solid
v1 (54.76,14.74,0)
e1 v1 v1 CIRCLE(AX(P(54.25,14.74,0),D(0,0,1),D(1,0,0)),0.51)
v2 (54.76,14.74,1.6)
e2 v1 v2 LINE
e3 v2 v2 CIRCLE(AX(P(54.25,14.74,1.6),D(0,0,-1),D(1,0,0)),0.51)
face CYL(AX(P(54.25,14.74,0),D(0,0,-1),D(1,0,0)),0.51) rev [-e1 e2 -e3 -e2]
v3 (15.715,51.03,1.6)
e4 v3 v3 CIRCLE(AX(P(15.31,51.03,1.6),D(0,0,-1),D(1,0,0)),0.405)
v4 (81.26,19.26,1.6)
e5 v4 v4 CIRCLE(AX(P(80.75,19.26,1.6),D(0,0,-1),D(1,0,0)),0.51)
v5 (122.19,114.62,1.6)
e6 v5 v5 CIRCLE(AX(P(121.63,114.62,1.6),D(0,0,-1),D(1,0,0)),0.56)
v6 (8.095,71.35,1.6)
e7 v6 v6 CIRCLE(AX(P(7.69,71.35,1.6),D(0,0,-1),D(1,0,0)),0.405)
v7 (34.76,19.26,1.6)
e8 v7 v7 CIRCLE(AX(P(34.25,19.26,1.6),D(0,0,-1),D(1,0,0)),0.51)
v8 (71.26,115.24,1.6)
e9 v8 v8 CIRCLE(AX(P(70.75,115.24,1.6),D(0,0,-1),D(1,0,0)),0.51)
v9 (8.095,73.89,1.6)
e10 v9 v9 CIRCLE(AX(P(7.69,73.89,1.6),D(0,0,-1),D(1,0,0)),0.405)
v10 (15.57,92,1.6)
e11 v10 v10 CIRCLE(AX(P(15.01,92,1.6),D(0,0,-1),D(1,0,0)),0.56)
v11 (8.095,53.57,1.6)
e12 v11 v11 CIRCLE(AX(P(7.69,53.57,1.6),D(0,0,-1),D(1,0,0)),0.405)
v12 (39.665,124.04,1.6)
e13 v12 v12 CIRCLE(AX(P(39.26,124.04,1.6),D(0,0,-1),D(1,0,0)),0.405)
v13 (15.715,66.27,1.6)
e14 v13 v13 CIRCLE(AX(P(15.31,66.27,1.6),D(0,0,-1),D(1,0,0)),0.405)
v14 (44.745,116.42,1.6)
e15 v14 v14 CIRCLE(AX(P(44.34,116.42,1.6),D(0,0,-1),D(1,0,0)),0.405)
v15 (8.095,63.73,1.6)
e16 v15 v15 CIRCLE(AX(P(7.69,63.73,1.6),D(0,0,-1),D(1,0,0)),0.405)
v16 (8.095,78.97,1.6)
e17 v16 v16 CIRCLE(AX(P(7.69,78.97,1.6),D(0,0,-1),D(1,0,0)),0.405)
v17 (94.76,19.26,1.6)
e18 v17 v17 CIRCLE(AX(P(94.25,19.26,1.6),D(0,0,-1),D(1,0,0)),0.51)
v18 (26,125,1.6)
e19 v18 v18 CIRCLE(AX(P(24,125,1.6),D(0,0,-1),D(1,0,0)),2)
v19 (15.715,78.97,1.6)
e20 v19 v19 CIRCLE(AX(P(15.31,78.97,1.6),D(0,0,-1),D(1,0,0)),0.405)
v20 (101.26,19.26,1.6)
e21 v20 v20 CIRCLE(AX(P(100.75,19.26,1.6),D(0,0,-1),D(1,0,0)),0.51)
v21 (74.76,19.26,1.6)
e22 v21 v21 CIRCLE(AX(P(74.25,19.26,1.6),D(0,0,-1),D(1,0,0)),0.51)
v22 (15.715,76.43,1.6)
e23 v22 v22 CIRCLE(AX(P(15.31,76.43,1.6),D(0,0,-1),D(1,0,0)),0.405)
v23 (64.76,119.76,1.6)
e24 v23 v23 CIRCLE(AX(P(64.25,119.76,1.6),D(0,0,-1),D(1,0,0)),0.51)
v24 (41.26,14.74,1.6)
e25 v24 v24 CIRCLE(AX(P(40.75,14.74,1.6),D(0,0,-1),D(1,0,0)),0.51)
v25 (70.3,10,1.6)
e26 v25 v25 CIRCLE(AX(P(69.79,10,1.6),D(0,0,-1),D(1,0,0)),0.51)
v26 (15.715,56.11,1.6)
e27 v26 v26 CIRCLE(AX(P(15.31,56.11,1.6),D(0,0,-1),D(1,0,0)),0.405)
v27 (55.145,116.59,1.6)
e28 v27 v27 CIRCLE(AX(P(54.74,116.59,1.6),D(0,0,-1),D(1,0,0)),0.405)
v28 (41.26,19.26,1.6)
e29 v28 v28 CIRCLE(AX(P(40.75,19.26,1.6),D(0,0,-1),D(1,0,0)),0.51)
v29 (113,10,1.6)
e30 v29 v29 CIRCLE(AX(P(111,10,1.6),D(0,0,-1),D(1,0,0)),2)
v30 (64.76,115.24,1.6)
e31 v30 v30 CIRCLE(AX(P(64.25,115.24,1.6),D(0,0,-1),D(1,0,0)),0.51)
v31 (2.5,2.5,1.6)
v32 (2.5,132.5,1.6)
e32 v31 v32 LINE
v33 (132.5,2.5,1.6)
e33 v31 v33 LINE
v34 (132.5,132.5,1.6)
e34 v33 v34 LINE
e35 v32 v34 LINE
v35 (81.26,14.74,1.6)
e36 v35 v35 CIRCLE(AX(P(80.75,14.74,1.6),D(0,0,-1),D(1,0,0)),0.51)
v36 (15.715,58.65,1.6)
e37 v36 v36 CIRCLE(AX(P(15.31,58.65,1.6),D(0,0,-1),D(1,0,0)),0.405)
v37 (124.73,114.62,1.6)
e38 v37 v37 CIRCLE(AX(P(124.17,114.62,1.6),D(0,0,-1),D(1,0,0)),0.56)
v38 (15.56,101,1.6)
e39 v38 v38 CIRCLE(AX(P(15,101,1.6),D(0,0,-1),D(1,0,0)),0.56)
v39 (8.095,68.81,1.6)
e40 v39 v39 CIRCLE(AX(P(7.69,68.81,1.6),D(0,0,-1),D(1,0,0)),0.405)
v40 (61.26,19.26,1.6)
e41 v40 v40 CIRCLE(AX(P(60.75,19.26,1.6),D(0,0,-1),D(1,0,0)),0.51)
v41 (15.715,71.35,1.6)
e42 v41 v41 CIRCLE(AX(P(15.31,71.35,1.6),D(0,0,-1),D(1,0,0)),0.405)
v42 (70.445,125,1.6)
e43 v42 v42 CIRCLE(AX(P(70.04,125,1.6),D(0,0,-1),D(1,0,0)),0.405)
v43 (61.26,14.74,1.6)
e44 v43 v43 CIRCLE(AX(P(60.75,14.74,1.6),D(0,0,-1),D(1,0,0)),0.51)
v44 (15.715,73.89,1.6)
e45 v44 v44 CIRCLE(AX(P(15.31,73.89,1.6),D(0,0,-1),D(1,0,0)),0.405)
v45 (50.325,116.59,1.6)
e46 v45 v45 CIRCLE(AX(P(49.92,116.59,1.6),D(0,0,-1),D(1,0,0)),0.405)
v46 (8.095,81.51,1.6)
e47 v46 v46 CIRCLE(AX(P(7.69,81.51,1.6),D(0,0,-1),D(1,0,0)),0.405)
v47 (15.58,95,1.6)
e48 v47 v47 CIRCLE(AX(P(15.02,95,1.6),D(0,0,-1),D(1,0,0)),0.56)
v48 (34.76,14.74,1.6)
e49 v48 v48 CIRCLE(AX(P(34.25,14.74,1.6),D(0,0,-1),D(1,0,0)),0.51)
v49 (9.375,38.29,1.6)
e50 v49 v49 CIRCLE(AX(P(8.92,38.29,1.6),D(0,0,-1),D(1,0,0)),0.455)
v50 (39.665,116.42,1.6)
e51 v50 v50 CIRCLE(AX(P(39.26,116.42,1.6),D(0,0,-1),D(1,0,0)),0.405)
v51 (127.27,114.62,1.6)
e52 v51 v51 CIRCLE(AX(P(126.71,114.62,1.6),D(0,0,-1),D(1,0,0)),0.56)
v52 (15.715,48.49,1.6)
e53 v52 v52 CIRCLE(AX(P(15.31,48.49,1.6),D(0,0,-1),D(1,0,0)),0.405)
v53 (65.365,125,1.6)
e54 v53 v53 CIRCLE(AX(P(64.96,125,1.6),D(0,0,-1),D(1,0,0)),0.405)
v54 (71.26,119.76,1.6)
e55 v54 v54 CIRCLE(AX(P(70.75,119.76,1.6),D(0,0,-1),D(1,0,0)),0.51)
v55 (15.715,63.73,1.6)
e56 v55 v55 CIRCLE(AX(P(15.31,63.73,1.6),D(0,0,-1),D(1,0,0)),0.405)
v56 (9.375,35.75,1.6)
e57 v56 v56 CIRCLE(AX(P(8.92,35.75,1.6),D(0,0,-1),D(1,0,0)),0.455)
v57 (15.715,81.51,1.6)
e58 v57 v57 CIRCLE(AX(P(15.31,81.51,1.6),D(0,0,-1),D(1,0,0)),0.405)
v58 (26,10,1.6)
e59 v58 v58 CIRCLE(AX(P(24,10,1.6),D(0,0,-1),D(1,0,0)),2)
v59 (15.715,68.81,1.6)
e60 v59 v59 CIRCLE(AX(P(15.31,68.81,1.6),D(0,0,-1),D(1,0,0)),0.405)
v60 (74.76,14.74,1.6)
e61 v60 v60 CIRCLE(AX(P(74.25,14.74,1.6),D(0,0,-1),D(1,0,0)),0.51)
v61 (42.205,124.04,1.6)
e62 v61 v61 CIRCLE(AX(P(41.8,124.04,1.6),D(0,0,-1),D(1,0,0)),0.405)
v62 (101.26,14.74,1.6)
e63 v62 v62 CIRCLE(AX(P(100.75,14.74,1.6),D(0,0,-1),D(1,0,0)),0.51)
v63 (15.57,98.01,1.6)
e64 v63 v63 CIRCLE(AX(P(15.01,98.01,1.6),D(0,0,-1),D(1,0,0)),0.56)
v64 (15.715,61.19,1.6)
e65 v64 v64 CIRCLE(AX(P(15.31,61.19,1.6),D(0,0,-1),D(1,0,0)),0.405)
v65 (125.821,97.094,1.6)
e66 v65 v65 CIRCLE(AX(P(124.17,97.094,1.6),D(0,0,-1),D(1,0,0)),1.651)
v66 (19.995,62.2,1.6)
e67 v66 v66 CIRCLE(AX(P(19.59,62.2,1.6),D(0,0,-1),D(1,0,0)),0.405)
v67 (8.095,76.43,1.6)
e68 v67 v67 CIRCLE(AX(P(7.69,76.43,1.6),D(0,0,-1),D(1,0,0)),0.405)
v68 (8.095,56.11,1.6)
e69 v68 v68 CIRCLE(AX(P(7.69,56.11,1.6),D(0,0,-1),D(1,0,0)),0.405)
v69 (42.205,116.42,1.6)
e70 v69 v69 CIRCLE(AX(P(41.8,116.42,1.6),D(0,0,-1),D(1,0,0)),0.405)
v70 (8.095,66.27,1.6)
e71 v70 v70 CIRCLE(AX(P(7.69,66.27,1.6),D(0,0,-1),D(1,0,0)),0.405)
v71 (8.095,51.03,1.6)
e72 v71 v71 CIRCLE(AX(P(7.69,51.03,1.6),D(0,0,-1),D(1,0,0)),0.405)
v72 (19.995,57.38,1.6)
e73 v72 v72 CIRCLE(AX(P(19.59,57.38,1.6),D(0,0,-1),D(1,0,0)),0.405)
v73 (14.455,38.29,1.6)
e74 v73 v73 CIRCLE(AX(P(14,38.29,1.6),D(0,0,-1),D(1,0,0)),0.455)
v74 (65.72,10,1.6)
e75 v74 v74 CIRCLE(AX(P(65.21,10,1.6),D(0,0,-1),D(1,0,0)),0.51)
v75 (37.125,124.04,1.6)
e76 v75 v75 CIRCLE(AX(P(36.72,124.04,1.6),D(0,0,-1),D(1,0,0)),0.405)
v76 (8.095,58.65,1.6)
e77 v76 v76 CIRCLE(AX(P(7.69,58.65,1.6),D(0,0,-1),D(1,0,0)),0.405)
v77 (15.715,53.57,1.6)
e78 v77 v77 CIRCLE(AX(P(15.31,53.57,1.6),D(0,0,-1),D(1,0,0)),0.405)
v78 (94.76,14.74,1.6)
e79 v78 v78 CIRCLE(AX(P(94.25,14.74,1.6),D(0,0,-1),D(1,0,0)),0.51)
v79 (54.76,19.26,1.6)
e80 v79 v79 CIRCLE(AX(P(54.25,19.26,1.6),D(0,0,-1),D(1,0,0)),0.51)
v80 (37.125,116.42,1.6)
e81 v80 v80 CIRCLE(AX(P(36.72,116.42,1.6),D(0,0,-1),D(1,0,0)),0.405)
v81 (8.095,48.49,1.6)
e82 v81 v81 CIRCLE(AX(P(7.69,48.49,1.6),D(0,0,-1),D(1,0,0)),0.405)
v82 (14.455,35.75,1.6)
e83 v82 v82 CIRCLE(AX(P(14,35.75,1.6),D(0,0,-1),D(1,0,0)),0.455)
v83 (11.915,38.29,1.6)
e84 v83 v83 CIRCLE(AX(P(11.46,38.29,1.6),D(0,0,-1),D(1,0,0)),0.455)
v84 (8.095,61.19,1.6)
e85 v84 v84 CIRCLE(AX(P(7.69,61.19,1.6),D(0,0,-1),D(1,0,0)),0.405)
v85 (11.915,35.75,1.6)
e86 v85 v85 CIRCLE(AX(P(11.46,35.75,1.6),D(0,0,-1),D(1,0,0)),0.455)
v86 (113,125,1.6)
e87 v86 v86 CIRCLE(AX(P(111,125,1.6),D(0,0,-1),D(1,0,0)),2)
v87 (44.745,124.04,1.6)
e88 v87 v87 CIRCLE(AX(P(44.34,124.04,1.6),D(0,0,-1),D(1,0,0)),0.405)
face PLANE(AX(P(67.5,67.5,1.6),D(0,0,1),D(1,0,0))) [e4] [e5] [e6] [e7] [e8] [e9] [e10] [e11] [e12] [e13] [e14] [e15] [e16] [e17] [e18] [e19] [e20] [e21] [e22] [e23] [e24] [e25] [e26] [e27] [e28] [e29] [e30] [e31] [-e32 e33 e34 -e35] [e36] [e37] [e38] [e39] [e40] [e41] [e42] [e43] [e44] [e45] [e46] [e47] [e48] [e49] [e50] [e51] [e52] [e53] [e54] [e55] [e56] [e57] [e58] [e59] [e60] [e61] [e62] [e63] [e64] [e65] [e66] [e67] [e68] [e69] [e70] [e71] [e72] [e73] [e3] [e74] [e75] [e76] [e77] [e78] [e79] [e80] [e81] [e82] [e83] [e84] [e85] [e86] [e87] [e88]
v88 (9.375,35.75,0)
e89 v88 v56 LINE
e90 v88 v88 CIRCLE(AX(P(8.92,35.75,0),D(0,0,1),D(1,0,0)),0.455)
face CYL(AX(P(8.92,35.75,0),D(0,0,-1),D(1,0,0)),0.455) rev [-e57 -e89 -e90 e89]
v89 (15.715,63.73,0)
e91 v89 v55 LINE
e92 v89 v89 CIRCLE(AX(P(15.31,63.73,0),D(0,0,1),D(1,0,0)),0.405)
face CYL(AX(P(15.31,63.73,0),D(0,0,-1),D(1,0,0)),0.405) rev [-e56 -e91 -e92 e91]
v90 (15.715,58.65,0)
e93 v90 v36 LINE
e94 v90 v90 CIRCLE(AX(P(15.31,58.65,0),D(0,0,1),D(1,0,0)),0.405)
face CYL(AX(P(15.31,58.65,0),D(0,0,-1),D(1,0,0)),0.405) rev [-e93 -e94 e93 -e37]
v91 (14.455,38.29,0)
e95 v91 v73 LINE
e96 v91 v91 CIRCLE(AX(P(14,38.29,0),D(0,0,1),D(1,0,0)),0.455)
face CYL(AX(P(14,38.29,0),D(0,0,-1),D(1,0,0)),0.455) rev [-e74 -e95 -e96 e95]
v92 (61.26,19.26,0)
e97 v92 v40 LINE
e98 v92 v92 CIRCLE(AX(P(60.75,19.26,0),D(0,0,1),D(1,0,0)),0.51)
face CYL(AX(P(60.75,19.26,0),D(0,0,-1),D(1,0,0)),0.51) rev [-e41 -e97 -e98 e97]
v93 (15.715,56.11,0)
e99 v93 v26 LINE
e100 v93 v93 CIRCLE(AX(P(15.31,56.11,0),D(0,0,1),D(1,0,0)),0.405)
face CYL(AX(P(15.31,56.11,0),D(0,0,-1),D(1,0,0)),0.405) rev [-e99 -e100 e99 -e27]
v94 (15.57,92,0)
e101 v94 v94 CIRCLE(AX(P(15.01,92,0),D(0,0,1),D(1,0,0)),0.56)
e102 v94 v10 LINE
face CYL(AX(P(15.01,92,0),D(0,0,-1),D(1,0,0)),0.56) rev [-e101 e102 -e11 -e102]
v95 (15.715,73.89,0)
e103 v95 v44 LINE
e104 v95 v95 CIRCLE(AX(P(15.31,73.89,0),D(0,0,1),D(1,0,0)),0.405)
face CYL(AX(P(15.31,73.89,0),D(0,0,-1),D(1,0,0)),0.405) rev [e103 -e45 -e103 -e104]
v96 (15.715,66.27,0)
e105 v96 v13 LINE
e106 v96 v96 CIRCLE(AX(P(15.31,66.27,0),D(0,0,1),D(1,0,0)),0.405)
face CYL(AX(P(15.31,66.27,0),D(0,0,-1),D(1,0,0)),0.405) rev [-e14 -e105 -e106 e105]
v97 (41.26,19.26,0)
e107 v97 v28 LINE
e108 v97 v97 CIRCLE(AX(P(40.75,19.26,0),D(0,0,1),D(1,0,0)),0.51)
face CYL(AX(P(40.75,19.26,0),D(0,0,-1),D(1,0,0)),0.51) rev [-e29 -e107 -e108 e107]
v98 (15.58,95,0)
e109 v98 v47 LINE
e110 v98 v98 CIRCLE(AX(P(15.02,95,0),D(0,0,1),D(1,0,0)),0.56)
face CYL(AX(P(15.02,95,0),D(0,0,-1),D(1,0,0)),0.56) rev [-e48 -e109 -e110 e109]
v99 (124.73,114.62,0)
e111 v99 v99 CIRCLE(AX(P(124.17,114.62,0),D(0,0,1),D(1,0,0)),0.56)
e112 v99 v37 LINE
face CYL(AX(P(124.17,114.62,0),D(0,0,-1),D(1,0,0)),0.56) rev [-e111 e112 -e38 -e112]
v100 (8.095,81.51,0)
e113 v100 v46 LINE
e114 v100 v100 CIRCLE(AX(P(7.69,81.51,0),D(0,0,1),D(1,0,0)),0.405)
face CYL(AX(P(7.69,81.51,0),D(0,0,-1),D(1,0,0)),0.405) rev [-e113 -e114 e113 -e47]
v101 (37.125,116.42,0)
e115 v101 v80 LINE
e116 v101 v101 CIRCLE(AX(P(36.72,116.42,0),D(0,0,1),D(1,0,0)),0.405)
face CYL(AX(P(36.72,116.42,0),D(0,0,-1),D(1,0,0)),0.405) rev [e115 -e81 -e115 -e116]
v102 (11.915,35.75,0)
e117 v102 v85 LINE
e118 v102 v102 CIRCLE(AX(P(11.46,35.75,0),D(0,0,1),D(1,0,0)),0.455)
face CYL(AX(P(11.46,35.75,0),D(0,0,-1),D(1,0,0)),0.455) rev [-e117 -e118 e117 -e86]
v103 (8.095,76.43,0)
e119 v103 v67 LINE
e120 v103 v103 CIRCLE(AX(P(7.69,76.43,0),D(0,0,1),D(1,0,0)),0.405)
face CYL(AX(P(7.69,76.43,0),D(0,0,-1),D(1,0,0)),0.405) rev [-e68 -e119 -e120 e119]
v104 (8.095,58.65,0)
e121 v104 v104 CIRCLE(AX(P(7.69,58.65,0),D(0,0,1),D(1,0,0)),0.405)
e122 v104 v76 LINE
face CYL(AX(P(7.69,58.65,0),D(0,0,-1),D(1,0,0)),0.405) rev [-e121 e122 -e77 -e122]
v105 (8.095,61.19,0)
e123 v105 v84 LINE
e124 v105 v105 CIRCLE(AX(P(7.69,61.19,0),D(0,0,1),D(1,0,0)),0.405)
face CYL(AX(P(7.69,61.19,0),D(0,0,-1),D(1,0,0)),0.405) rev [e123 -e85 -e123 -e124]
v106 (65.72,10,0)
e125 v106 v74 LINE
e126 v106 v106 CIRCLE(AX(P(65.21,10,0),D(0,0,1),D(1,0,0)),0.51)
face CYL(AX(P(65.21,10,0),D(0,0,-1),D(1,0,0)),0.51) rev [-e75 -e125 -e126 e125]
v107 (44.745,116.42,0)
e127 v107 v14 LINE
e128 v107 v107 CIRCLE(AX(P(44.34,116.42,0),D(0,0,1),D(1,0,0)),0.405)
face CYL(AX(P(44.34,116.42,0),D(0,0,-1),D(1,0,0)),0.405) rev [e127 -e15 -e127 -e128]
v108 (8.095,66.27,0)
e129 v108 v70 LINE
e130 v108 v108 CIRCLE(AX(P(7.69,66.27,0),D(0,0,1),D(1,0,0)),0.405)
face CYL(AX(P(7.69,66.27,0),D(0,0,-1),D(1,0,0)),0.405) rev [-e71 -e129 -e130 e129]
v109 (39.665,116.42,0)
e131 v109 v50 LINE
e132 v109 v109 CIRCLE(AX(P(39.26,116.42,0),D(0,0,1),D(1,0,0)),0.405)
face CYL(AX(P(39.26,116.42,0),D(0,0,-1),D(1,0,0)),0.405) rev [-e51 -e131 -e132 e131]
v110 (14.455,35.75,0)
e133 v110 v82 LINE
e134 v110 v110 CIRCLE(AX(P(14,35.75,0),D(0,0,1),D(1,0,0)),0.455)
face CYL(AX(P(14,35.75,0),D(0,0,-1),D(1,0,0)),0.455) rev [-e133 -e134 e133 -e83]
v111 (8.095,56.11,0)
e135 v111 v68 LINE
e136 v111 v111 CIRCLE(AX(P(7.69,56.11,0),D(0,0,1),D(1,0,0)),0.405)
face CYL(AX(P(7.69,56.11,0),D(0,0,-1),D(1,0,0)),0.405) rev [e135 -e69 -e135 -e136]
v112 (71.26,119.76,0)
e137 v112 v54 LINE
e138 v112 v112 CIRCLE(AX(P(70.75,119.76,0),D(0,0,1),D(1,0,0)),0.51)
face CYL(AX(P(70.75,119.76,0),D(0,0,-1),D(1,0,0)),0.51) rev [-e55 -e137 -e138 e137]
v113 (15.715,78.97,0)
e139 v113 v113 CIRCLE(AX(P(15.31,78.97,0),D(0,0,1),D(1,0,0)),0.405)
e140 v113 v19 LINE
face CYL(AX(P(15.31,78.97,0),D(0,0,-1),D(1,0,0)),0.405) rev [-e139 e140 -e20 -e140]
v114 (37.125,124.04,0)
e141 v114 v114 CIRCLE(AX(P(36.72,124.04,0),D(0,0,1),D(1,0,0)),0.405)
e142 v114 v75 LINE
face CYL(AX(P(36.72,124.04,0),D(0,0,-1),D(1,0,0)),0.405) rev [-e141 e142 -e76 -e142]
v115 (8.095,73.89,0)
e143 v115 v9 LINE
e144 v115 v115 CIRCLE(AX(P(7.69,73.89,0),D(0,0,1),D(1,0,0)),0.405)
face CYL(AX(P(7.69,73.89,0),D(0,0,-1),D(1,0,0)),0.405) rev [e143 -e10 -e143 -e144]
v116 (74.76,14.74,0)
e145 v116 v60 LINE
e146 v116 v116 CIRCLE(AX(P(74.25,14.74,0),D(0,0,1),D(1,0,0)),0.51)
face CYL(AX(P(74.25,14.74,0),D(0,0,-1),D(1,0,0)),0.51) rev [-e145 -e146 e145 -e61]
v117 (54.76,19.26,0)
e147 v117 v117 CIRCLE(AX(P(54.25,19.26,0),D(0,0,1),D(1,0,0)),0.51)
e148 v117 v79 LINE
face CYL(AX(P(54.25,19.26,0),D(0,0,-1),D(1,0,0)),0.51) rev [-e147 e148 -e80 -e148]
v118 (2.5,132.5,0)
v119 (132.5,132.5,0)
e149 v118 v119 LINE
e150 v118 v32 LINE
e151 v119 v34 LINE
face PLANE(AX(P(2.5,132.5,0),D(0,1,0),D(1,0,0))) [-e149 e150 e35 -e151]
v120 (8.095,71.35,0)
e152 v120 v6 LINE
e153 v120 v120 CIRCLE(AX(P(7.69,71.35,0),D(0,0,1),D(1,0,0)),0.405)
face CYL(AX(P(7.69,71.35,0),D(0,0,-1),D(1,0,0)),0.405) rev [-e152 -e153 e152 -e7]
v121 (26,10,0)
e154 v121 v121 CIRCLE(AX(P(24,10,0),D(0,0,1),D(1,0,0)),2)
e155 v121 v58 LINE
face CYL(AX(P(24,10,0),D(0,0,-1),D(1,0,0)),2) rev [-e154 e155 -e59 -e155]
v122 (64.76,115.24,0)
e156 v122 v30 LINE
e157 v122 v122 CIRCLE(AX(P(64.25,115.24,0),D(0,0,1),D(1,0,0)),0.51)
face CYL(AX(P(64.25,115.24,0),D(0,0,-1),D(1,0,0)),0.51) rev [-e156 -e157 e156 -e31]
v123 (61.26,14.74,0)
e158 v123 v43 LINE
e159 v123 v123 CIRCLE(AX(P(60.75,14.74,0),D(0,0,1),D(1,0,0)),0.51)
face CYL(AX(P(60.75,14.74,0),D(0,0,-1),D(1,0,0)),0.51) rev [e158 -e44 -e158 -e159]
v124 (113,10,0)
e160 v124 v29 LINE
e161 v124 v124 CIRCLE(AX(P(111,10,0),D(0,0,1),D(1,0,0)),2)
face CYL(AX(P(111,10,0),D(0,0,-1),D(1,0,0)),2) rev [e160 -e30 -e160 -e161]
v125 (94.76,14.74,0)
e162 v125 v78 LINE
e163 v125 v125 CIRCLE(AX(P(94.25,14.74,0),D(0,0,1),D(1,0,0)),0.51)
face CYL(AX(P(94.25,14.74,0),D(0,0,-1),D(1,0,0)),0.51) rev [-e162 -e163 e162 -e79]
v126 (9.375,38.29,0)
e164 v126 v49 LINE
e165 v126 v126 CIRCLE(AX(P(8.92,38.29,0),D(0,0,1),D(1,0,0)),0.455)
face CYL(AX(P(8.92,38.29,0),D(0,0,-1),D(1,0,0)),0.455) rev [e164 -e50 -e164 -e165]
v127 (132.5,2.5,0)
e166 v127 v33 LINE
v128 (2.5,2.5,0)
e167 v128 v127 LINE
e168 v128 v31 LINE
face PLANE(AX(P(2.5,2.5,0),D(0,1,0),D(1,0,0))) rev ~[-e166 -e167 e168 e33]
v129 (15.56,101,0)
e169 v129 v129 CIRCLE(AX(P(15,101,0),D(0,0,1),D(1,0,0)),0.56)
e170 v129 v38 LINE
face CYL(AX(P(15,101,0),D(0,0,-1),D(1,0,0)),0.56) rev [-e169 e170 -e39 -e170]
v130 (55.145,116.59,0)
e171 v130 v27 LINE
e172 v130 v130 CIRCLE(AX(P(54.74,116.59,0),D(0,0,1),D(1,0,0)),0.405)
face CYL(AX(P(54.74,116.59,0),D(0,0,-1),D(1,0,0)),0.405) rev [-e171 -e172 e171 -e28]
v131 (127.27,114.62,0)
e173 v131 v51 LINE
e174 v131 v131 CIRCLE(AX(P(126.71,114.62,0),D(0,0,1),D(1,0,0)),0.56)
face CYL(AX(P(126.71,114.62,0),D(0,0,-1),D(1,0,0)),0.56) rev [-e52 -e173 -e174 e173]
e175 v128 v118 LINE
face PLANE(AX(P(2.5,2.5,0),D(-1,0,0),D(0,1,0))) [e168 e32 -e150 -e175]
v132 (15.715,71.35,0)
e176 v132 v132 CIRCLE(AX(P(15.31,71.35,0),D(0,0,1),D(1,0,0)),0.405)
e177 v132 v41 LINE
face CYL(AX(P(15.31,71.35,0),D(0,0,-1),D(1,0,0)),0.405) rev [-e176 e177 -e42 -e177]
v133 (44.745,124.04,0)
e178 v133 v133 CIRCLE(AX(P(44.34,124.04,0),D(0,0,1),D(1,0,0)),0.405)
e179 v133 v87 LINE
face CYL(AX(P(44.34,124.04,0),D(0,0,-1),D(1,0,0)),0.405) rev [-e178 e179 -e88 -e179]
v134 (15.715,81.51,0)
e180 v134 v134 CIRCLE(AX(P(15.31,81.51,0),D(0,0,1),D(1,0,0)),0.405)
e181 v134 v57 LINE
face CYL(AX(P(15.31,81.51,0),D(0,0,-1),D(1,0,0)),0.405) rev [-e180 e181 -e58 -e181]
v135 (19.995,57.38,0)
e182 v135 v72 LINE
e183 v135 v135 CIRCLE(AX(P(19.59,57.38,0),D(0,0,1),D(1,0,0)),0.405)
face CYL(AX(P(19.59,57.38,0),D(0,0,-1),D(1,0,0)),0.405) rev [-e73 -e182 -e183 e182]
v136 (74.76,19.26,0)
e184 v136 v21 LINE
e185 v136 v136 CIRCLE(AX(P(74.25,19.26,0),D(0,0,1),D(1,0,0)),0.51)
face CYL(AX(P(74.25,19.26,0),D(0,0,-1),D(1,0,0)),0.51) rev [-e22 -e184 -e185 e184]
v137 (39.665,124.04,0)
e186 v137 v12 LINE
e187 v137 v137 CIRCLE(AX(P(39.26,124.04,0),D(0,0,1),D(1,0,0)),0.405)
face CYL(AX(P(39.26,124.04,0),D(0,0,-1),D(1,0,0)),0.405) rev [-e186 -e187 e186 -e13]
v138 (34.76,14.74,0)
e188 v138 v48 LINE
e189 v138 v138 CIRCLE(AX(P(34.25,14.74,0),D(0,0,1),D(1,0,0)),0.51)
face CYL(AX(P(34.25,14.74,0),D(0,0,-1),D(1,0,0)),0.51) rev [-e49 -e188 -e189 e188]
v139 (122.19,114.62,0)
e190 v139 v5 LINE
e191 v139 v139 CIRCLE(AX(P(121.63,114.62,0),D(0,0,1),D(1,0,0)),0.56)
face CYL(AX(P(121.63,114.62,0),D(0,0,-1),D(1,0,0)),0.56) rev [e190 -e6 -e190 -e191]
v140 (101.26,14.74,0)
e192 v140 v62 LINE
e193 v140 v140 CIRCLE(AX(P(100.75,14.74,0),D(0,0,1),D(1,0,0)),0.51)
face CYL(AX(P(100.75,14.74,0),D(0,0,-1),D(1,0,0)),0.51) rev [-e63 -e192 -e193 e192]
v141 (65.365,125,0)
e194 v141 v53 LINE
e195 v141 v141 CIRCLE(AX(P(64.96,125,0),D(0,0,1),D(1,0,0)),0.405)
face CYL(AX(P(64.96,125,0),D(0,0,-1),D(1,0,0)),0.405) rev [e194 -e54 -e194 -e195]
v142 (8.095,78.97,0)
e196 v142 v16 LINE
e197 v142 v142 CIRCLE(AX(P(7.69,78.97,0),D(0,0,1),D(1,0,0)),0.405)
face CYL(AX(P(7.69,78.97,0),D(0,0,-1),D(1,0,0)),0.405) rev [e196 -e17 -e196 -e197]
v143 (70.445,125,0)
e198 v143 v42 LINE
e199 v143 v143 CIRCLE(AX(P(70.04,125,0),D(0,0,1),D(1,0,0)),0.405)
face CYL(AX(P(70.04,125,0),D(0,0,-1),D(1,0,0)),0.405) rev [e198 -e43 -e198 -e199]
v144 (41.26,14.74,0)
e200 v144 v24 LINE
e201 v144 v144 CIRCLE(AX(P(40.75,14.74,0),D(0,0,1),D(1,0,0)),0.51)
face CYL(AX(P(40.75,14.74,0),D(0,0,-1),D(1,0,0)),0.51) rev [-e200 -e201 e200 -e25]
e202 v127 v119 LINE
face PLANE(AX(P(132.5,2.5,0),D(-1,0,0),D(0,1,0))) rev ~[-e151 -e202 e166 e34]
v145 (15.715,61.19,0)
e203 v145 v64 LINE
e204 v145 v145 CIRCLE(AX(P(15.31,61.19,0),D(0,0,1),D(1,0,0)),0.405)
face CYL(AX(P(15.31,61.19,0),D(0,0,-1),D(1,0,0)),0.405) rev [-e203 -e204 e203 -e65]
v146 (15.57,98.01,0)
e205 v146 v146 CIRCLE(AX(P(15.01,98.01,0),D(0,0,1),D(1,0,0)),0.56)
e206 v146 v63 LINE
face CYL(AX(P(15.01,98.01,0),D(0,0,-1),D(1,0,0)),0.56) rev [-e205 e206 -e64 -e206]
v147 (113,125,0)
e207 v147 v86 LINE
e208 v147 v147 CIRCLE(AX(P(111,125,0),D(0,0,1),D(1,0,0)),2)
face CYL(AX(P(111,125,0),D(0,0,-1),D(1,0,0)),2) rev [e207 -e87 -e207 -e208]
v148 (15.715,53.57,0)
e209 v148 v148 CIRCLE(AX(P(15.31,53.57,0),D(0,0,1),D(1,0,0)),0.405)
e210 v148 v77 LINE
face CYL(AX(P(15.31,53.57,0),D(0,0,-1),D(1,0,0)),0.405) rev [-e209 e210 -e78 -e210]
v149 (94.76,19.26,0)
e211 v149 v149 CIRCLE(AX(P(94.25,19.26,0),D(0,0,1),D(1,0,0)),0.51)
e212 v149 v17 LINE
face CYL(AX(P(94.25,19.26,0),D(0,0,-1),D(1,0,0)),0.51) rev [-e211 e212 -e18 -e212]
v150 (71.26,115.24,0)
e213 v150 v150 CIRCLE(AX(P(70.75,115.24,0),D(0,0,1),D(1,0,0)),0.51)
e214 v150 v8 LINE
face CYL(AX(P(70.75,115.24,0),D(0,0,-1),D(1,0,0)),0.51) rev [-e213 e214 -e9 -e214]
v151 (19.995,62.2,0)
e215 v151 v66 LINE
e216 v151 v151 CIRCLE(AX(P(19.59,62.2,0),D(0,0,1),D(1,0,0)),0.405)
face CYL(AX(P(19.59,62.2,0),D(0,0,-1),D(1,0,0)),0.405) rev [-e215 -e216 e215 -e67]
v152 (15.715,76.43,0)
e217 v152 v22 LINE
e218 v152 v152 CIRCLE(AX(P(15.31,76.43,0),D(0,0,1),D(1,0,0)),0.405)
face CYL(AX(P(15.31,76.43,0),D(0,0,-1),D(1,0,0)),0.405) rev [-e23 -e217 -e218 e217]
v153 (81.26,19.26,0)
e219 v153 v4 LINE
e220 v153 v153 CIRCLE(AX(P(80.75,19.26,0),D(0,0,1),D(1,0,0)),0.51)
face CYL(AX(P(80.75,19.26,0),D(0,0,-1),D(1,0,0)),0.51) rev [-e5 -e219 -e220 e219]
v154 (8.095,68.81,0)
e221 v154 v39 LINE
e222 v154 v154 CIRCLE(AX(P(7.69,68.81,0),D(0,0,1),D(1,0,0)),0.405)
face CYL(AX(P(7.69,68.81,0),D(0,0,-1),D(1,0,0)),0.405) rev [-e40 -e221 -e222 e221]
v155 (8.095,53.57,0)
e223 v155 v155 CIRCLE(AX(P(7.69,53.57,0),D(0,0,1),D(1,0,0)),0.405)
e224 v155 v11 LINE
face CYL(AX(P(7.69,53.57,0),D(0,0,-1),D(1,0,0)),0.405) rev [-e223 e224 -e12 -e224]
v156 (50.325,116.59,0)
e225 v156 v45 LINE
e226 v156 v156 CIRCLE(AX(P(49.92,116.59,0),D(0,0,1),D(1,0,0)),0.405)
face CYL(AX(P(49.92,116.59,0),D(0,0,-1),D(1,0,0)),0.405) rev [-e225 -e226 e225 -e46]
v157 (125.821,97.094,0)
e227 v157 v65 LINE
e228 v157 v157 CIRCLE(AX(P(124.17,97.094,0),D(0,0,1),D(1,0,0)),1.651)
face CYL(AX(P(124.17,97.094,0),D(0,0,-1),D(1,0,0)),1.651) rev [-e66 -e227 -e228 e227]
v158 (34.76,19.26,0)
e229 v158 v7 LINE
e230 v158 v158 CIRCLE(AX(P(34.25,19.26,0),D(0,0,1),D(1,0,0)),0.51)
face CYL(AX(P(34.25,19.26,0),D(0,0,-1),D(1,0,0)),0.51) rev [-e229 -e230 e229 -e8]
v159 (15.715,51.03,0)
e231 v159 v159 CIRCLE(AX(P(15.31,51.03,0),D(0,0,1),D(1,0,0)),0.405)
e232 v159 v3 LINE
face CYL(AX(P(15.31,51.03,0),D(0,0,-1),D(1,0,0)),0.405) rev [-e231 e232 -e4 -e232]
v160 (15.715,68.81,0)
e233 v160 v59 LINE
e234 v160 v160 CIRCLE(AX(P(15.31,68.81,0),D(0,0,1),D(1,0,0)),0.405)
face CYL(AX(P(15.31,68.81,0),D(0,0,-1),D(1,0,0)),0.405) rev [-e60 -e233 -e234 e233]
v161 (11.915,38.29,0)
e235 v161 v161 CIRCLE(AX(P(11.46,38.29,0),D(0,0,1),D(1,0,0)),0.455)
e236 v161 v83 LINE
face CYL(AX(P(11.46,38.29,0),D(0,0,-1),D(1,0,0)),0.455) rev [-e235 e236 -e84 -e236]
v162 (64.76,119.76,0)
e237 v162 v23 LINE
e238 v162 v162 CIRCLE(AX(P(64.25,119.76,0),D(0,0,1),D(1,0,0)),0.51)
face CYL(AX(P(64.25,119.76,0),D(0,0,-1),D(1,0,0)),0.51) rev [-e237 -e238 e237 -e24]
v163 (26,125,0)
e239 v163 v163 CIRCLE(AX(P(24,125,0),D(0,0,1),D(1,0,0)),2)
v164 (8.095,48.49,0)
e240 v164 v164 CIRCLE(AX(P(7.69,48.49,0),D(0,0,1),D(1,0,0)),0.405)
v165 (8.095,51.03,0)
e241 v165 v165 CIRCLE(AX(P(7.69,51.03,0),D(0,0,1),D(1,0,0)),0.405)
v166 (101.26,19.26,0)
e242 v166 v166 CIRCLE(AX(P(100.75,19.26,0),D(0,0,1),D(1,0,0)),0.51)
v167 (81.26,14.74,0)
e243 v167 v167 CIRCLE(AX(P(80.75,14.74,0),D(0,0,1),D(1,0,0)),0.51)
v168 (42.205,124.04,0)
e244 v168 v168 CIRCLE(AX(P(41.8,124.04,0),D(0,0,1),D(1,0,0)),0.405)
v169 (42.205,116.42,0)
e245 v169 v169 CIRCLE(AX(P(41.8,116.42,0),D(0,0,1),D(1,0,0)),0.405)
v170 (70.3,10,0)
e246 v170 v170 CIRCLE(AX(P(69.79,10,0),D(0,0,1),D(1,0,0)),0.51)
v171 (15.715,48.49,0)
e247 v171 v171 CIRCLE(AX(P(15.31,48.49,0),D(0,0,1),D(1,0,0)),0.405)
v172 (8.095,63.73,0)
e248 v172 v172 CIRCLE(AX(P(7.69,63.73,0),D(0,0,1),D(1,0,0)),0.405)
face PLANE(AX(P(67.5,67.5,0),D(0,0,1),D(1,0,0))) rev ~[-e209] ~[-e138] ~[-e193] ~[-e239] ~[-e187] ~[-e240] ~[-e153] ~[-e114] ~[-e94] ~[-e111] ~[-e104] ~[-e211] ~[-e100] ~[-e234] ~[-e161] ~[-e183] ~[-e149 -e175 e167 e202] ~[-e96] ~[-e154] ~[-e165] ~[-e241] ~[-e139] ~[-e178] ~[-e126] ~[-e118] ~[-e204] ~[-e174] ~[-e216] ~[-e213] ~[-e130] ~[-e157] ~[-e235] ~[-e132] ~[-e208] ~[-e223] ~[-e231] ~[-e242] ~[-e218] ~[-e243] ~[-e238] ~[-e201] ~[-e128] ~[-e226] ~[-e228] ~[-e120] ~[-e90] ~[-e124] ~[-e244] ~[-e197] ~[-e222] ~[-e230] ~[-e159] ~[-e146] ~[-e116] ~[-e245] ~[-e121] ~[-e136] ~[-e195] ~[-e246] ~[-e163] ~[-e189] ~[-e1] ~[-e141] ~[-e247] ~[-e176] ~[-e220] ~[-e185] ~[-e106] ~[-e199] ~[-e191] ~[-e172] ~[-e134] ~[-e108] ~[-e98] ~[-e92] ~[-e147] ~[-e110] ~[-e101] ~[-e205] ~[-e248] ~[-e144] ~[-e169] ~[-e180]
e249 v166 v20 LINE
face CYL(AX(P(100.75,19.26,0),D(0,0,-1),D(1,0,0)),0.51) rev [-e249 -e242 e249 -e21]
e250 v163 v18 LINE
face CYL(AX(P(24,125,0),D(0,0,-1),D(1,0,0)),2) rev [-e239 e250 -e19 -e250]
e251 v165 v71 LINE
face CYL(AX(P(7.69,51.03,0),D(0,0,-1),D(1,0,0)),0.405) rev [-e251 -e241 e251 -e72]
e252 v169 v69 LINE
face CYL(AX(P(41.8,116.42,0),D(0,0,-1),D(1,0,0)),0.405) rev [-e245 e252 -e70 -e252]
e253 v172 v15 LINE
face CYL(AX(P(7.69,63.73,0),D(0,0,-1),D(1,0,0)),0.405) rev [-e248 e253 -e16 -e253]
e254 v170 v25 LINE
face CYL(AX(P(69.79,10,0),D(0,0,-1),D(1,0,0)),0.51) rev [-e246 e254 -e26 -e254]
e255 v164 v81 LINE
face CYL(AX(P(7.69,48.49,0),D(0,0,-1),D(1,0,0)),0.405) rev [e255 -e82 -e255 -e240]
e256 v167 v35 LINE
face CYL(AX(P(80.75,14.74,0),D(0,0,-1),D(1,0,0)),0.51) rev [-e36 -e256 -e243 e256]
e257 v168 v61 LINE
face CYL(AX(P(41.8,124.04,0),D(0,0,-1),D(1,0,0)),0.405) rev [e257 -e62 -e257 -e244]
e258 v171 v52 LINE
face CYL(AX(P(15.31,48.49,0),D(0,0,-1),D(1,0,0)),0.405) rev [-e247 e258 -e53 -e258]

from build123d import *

# Parameters (mm, degrees)
SKIZZE1_W           = 130
SKIZZE1_H           = 130
BOARD_OUTLINE_DEPTH = 1.6
SKIZZE2_R           = 2
SKIZZE2_R_2         = 1.651
NPTH_DEPTH          = 188.390127808
SKIZZE3_R           = 0.405
SKIZZE3_R_2         = 0.56
SKIZZE3_R_3         = 0.51
SKIZZE3_R_4         = 0.455
PTH_DEPTH           = 188.390127808


with BuildPart() as part:
    # Skizze1 → Board_Outline (new body)
    with BuildSketch(Plane.XY):
        with Locations((67.5, 67.5)):
            Rectangle(SKIZZE1_W, SKIZZE1_H)
    extrude(amount=BOARD_OUTLINE_DEPTH)

    # Skizze2 → NPTH (cut, through all)
    with BuildSketch(Plane.XY):
        with Locations((24, 125)):
            Circle(SKIZZE2_R)
        with Locations((111, 10)):
            Circle(SKIZZE2_R)
        with Locations((24, 10)):
            Circle(SKIZZE2_R)
        with Locations((111, 125)):
            Circle(SKIZZE2_R)
        with Locations((124.17, 97.094)):
            Circle(SKIZZE2_R_2)
    extrude(amount=NPTH_DEPTH, mode=Mode.SUBTRACT)

    # Skizze3 → PTH (cut, through all)
    with BuildSketch(Plane.XY):
        with Locations((15.31, 81.51)):
            Circle(SKIZZE3_R)
        with Locations((15.31, 78.97)):
            Circle(SKIZZE3_R)
        with Locations((15.31, 76.43)):
            Circle(SKIZZE3_R)
        with Locations((15.31, 73.89)):
            Circle(SKIZZE3_R)
        with Locations((15.31, 71.35)):
            Circle(SKIZZE3_R)
        with Locations((15.31, 68.81)):
            Circle(SKIZZE3_R)
        with Locations((15.31, 66.27)):
            Circle(SKIZZE3_R)
        with Locations((15.31, 63.73)):
            Circle(SKIZZE3_R)
        with Locations((15.31, 61.19)):
            Circle(SKIZZE3_R)
        with Locations((15.31, 58.65)):
            Circle(SKIZZE3_R)
        with Locations((15.31, 56.11)):
            Circle(SKIZZE3_R)
        with Locations((15.31, 53.57)):
            Circle(SKIZZE3_R)
        with Locations((15.31, 51.03)):
            Circle(SKIZZE3_R)
        with Locations((15.31, 48.49)):
            Circle(SKIZZE3_R)
        with Locations((7.69, 48.49)):
            Circle(SKIZZE3_R)
        with Locations((7.69, 51.03)):
            Circle(SKIZZE3_R)
        with Locations((7.69, 53.57)):
            Circle(SKIZZE3_R)
        with Locations((7.69, 56.11)):
            Circle(SKIZZE3_R)
        with Locations((7.69, 58.65)):
            Circle(SKIZZE3_R)
        with Locations((7.69, 61.19)):
            Circle(SKIZZE3_R)
        with Locations((7.69, 63.73)):
            Circle(SKIZZE3_R)
        with Locations((7.69, 66.27)):
            Circle(SKIZZE3_R)
        with Locations((7.69, 68.81)):
            Circle(SKIZZE3_R)
        with Locations((7.69, 71.35)):
            Circle(SKIZZE3_R)
        with Locations((7.69, 73.89)):
            Circle(SKIZZE3_R)
        with Locations((7.69, 76.43)):
            Circle(SKIZZE3_R)
        with Locations((7.69, 78.97)):
            Circle(SKIZZE3_R)
        with Locations((7.69, 81.51)):
            Circle(SKIZZE3_R)
        with Locations((64.96, 125)):
            Circle(SKIZZE3_R)
        with Locations((70.04, 125)):
            Circle(SKIZZE3_R)
        with Locations((15.01, 92)):
            Circle(SKIZZE3_R_2)
        with Locations((15, 101)):
            Circle(SKIZZE3_R_2)
        with Locations((15.02, 95)):
            Circle(SKIZZE3_R_2)
        with Locations((15.01, 98.01)):
            Circle(SKIZZE3_R_2)
        with Locations((19.59, 62.2)):
            Circle(SKIZZE3_R)
        with Locations((19.59, 57.38)):
            Circle(SKIZZE3_R)
        with Locations((121.63, 114.62)):
            Circle(SKIZZE3_R_2)
        with Locations((124.17, 114.62)):
            Circle(SKIZZE3_R_2)
        with Locations((126.71, 114.62)):
            Circle(SKIZZE3_R_2)
        with Locations((54.74, 116.59)):
            Circle(SKIZZE3_R)
        with Locations((49.92, 116.59)):
            Circle(SKIZZE3_R)
        with Locations((44.34, 116.42)):
            Circle(SKIZZE3_R)
        with Locations((41.8, 116.42)):
            Circle(SKIZZE3_R)
        with Locations((39.26, 116.42)):
            Circle(SKIZZE3_R)
        with Locations((36.72, 116.42)):
            Circle(SKIZZE3_R)
        with Locations((36.72, 124.04)):
            Circle(SKIZZE3_R)
        with Locations((39.26, 124.04)):
            Circle(SKIZZE3_R)
        with Locations((41.8, 124.04)):
            Circle(SKIZZE3_R)
        with Locations((44.34, 124.04)):
            Circle(SKIZZE3_R)
        with Locations((70.75, 119.76)):
            Circle(SKIZZE3_R_3)
        with Locations((64.25, 119.76)):
            Circle(SKIZZE3_R_3)
        with Locations((70.75, 115.24)):
            Circle(SKIZZE3_R_3)
        with Locations((64.25, 115.24)):
            Circle(SKIZZE3_R_3)
        with Locations((34.25, 14.74)):
            Circle(SKIZZE3_R_3)
        with Locations((40.75, 14.74)):
            Circle(SKIZZE3_R_3)
        with Locations((34.25, 19.26)):
            Circle(SKIZZE3_R_3)
        with Locations((40.75, 19.26)):
            Circle(SKIZZE3_R_3)
        with Locations((54.25, 14.74)):
            Circle(SKIZZE3_R_3)
        with Locations((60.75, 14.74)):
            Circle(SKIZZE3_R_3)
        with Locations((54.25, 19.26)):
            Circle(SKIZZE3_R_3)
        with Locations((60.75, 19.26)):
            Circle(SKIZZE3_R_3)
        with Locations((74.25, 14.74)):
            Circle(SKIZZE3_R_3)
        with Locations((80.75, 14.74)):
            Circle(SKIZZE3_R_3)
        with Locations((74.25, 19.26)):
            Circle(SKIZZE3_R_3)
        with Locations((80.75, 19.26)):
            Circle(SKIZZE3_R_3)
        with Locations((94.25, 14.74)):
            Circle(SKIZZE3_R_3)
        with Locations((100.75, 14.74)):
            Circle(SKIZZE3_R_3)
        with Locations((94.25, 19.26)):
            Circle(SKIZZE3_R_3)
        with Locations((100.75, 19.26)):
            Circle(SKIZZE3_R_3)
        with Locations((65.21, 10)):
            Circle(SKIZZE3_R_3)
        with Locations((69.79, 10)):
            Circle(SKIZZE3_R_3)
        with Locations((8.92, 38.29)):
            Circle(SKIZZE3_R_4)
        with Locations((8.92, 35.75)):
            Circle(SKIZZE3_R_4)
        with Locations((11.46, 38.29)):
            Circle(SKIZZE3_R_4)
        with Locations((11.46, 35.75)):
            Circle(SKIZZE3_R_4)
        with Locations((14, 38.29)):
            Circle(SKIZZE3_R_4)
        with Locations((14, 35.75)):
            Circle(SKIZZE3_R_4)
    extrude(amount=PTH_DEPTH, mode=Mode.SUBTRACT)


solid = part.part
